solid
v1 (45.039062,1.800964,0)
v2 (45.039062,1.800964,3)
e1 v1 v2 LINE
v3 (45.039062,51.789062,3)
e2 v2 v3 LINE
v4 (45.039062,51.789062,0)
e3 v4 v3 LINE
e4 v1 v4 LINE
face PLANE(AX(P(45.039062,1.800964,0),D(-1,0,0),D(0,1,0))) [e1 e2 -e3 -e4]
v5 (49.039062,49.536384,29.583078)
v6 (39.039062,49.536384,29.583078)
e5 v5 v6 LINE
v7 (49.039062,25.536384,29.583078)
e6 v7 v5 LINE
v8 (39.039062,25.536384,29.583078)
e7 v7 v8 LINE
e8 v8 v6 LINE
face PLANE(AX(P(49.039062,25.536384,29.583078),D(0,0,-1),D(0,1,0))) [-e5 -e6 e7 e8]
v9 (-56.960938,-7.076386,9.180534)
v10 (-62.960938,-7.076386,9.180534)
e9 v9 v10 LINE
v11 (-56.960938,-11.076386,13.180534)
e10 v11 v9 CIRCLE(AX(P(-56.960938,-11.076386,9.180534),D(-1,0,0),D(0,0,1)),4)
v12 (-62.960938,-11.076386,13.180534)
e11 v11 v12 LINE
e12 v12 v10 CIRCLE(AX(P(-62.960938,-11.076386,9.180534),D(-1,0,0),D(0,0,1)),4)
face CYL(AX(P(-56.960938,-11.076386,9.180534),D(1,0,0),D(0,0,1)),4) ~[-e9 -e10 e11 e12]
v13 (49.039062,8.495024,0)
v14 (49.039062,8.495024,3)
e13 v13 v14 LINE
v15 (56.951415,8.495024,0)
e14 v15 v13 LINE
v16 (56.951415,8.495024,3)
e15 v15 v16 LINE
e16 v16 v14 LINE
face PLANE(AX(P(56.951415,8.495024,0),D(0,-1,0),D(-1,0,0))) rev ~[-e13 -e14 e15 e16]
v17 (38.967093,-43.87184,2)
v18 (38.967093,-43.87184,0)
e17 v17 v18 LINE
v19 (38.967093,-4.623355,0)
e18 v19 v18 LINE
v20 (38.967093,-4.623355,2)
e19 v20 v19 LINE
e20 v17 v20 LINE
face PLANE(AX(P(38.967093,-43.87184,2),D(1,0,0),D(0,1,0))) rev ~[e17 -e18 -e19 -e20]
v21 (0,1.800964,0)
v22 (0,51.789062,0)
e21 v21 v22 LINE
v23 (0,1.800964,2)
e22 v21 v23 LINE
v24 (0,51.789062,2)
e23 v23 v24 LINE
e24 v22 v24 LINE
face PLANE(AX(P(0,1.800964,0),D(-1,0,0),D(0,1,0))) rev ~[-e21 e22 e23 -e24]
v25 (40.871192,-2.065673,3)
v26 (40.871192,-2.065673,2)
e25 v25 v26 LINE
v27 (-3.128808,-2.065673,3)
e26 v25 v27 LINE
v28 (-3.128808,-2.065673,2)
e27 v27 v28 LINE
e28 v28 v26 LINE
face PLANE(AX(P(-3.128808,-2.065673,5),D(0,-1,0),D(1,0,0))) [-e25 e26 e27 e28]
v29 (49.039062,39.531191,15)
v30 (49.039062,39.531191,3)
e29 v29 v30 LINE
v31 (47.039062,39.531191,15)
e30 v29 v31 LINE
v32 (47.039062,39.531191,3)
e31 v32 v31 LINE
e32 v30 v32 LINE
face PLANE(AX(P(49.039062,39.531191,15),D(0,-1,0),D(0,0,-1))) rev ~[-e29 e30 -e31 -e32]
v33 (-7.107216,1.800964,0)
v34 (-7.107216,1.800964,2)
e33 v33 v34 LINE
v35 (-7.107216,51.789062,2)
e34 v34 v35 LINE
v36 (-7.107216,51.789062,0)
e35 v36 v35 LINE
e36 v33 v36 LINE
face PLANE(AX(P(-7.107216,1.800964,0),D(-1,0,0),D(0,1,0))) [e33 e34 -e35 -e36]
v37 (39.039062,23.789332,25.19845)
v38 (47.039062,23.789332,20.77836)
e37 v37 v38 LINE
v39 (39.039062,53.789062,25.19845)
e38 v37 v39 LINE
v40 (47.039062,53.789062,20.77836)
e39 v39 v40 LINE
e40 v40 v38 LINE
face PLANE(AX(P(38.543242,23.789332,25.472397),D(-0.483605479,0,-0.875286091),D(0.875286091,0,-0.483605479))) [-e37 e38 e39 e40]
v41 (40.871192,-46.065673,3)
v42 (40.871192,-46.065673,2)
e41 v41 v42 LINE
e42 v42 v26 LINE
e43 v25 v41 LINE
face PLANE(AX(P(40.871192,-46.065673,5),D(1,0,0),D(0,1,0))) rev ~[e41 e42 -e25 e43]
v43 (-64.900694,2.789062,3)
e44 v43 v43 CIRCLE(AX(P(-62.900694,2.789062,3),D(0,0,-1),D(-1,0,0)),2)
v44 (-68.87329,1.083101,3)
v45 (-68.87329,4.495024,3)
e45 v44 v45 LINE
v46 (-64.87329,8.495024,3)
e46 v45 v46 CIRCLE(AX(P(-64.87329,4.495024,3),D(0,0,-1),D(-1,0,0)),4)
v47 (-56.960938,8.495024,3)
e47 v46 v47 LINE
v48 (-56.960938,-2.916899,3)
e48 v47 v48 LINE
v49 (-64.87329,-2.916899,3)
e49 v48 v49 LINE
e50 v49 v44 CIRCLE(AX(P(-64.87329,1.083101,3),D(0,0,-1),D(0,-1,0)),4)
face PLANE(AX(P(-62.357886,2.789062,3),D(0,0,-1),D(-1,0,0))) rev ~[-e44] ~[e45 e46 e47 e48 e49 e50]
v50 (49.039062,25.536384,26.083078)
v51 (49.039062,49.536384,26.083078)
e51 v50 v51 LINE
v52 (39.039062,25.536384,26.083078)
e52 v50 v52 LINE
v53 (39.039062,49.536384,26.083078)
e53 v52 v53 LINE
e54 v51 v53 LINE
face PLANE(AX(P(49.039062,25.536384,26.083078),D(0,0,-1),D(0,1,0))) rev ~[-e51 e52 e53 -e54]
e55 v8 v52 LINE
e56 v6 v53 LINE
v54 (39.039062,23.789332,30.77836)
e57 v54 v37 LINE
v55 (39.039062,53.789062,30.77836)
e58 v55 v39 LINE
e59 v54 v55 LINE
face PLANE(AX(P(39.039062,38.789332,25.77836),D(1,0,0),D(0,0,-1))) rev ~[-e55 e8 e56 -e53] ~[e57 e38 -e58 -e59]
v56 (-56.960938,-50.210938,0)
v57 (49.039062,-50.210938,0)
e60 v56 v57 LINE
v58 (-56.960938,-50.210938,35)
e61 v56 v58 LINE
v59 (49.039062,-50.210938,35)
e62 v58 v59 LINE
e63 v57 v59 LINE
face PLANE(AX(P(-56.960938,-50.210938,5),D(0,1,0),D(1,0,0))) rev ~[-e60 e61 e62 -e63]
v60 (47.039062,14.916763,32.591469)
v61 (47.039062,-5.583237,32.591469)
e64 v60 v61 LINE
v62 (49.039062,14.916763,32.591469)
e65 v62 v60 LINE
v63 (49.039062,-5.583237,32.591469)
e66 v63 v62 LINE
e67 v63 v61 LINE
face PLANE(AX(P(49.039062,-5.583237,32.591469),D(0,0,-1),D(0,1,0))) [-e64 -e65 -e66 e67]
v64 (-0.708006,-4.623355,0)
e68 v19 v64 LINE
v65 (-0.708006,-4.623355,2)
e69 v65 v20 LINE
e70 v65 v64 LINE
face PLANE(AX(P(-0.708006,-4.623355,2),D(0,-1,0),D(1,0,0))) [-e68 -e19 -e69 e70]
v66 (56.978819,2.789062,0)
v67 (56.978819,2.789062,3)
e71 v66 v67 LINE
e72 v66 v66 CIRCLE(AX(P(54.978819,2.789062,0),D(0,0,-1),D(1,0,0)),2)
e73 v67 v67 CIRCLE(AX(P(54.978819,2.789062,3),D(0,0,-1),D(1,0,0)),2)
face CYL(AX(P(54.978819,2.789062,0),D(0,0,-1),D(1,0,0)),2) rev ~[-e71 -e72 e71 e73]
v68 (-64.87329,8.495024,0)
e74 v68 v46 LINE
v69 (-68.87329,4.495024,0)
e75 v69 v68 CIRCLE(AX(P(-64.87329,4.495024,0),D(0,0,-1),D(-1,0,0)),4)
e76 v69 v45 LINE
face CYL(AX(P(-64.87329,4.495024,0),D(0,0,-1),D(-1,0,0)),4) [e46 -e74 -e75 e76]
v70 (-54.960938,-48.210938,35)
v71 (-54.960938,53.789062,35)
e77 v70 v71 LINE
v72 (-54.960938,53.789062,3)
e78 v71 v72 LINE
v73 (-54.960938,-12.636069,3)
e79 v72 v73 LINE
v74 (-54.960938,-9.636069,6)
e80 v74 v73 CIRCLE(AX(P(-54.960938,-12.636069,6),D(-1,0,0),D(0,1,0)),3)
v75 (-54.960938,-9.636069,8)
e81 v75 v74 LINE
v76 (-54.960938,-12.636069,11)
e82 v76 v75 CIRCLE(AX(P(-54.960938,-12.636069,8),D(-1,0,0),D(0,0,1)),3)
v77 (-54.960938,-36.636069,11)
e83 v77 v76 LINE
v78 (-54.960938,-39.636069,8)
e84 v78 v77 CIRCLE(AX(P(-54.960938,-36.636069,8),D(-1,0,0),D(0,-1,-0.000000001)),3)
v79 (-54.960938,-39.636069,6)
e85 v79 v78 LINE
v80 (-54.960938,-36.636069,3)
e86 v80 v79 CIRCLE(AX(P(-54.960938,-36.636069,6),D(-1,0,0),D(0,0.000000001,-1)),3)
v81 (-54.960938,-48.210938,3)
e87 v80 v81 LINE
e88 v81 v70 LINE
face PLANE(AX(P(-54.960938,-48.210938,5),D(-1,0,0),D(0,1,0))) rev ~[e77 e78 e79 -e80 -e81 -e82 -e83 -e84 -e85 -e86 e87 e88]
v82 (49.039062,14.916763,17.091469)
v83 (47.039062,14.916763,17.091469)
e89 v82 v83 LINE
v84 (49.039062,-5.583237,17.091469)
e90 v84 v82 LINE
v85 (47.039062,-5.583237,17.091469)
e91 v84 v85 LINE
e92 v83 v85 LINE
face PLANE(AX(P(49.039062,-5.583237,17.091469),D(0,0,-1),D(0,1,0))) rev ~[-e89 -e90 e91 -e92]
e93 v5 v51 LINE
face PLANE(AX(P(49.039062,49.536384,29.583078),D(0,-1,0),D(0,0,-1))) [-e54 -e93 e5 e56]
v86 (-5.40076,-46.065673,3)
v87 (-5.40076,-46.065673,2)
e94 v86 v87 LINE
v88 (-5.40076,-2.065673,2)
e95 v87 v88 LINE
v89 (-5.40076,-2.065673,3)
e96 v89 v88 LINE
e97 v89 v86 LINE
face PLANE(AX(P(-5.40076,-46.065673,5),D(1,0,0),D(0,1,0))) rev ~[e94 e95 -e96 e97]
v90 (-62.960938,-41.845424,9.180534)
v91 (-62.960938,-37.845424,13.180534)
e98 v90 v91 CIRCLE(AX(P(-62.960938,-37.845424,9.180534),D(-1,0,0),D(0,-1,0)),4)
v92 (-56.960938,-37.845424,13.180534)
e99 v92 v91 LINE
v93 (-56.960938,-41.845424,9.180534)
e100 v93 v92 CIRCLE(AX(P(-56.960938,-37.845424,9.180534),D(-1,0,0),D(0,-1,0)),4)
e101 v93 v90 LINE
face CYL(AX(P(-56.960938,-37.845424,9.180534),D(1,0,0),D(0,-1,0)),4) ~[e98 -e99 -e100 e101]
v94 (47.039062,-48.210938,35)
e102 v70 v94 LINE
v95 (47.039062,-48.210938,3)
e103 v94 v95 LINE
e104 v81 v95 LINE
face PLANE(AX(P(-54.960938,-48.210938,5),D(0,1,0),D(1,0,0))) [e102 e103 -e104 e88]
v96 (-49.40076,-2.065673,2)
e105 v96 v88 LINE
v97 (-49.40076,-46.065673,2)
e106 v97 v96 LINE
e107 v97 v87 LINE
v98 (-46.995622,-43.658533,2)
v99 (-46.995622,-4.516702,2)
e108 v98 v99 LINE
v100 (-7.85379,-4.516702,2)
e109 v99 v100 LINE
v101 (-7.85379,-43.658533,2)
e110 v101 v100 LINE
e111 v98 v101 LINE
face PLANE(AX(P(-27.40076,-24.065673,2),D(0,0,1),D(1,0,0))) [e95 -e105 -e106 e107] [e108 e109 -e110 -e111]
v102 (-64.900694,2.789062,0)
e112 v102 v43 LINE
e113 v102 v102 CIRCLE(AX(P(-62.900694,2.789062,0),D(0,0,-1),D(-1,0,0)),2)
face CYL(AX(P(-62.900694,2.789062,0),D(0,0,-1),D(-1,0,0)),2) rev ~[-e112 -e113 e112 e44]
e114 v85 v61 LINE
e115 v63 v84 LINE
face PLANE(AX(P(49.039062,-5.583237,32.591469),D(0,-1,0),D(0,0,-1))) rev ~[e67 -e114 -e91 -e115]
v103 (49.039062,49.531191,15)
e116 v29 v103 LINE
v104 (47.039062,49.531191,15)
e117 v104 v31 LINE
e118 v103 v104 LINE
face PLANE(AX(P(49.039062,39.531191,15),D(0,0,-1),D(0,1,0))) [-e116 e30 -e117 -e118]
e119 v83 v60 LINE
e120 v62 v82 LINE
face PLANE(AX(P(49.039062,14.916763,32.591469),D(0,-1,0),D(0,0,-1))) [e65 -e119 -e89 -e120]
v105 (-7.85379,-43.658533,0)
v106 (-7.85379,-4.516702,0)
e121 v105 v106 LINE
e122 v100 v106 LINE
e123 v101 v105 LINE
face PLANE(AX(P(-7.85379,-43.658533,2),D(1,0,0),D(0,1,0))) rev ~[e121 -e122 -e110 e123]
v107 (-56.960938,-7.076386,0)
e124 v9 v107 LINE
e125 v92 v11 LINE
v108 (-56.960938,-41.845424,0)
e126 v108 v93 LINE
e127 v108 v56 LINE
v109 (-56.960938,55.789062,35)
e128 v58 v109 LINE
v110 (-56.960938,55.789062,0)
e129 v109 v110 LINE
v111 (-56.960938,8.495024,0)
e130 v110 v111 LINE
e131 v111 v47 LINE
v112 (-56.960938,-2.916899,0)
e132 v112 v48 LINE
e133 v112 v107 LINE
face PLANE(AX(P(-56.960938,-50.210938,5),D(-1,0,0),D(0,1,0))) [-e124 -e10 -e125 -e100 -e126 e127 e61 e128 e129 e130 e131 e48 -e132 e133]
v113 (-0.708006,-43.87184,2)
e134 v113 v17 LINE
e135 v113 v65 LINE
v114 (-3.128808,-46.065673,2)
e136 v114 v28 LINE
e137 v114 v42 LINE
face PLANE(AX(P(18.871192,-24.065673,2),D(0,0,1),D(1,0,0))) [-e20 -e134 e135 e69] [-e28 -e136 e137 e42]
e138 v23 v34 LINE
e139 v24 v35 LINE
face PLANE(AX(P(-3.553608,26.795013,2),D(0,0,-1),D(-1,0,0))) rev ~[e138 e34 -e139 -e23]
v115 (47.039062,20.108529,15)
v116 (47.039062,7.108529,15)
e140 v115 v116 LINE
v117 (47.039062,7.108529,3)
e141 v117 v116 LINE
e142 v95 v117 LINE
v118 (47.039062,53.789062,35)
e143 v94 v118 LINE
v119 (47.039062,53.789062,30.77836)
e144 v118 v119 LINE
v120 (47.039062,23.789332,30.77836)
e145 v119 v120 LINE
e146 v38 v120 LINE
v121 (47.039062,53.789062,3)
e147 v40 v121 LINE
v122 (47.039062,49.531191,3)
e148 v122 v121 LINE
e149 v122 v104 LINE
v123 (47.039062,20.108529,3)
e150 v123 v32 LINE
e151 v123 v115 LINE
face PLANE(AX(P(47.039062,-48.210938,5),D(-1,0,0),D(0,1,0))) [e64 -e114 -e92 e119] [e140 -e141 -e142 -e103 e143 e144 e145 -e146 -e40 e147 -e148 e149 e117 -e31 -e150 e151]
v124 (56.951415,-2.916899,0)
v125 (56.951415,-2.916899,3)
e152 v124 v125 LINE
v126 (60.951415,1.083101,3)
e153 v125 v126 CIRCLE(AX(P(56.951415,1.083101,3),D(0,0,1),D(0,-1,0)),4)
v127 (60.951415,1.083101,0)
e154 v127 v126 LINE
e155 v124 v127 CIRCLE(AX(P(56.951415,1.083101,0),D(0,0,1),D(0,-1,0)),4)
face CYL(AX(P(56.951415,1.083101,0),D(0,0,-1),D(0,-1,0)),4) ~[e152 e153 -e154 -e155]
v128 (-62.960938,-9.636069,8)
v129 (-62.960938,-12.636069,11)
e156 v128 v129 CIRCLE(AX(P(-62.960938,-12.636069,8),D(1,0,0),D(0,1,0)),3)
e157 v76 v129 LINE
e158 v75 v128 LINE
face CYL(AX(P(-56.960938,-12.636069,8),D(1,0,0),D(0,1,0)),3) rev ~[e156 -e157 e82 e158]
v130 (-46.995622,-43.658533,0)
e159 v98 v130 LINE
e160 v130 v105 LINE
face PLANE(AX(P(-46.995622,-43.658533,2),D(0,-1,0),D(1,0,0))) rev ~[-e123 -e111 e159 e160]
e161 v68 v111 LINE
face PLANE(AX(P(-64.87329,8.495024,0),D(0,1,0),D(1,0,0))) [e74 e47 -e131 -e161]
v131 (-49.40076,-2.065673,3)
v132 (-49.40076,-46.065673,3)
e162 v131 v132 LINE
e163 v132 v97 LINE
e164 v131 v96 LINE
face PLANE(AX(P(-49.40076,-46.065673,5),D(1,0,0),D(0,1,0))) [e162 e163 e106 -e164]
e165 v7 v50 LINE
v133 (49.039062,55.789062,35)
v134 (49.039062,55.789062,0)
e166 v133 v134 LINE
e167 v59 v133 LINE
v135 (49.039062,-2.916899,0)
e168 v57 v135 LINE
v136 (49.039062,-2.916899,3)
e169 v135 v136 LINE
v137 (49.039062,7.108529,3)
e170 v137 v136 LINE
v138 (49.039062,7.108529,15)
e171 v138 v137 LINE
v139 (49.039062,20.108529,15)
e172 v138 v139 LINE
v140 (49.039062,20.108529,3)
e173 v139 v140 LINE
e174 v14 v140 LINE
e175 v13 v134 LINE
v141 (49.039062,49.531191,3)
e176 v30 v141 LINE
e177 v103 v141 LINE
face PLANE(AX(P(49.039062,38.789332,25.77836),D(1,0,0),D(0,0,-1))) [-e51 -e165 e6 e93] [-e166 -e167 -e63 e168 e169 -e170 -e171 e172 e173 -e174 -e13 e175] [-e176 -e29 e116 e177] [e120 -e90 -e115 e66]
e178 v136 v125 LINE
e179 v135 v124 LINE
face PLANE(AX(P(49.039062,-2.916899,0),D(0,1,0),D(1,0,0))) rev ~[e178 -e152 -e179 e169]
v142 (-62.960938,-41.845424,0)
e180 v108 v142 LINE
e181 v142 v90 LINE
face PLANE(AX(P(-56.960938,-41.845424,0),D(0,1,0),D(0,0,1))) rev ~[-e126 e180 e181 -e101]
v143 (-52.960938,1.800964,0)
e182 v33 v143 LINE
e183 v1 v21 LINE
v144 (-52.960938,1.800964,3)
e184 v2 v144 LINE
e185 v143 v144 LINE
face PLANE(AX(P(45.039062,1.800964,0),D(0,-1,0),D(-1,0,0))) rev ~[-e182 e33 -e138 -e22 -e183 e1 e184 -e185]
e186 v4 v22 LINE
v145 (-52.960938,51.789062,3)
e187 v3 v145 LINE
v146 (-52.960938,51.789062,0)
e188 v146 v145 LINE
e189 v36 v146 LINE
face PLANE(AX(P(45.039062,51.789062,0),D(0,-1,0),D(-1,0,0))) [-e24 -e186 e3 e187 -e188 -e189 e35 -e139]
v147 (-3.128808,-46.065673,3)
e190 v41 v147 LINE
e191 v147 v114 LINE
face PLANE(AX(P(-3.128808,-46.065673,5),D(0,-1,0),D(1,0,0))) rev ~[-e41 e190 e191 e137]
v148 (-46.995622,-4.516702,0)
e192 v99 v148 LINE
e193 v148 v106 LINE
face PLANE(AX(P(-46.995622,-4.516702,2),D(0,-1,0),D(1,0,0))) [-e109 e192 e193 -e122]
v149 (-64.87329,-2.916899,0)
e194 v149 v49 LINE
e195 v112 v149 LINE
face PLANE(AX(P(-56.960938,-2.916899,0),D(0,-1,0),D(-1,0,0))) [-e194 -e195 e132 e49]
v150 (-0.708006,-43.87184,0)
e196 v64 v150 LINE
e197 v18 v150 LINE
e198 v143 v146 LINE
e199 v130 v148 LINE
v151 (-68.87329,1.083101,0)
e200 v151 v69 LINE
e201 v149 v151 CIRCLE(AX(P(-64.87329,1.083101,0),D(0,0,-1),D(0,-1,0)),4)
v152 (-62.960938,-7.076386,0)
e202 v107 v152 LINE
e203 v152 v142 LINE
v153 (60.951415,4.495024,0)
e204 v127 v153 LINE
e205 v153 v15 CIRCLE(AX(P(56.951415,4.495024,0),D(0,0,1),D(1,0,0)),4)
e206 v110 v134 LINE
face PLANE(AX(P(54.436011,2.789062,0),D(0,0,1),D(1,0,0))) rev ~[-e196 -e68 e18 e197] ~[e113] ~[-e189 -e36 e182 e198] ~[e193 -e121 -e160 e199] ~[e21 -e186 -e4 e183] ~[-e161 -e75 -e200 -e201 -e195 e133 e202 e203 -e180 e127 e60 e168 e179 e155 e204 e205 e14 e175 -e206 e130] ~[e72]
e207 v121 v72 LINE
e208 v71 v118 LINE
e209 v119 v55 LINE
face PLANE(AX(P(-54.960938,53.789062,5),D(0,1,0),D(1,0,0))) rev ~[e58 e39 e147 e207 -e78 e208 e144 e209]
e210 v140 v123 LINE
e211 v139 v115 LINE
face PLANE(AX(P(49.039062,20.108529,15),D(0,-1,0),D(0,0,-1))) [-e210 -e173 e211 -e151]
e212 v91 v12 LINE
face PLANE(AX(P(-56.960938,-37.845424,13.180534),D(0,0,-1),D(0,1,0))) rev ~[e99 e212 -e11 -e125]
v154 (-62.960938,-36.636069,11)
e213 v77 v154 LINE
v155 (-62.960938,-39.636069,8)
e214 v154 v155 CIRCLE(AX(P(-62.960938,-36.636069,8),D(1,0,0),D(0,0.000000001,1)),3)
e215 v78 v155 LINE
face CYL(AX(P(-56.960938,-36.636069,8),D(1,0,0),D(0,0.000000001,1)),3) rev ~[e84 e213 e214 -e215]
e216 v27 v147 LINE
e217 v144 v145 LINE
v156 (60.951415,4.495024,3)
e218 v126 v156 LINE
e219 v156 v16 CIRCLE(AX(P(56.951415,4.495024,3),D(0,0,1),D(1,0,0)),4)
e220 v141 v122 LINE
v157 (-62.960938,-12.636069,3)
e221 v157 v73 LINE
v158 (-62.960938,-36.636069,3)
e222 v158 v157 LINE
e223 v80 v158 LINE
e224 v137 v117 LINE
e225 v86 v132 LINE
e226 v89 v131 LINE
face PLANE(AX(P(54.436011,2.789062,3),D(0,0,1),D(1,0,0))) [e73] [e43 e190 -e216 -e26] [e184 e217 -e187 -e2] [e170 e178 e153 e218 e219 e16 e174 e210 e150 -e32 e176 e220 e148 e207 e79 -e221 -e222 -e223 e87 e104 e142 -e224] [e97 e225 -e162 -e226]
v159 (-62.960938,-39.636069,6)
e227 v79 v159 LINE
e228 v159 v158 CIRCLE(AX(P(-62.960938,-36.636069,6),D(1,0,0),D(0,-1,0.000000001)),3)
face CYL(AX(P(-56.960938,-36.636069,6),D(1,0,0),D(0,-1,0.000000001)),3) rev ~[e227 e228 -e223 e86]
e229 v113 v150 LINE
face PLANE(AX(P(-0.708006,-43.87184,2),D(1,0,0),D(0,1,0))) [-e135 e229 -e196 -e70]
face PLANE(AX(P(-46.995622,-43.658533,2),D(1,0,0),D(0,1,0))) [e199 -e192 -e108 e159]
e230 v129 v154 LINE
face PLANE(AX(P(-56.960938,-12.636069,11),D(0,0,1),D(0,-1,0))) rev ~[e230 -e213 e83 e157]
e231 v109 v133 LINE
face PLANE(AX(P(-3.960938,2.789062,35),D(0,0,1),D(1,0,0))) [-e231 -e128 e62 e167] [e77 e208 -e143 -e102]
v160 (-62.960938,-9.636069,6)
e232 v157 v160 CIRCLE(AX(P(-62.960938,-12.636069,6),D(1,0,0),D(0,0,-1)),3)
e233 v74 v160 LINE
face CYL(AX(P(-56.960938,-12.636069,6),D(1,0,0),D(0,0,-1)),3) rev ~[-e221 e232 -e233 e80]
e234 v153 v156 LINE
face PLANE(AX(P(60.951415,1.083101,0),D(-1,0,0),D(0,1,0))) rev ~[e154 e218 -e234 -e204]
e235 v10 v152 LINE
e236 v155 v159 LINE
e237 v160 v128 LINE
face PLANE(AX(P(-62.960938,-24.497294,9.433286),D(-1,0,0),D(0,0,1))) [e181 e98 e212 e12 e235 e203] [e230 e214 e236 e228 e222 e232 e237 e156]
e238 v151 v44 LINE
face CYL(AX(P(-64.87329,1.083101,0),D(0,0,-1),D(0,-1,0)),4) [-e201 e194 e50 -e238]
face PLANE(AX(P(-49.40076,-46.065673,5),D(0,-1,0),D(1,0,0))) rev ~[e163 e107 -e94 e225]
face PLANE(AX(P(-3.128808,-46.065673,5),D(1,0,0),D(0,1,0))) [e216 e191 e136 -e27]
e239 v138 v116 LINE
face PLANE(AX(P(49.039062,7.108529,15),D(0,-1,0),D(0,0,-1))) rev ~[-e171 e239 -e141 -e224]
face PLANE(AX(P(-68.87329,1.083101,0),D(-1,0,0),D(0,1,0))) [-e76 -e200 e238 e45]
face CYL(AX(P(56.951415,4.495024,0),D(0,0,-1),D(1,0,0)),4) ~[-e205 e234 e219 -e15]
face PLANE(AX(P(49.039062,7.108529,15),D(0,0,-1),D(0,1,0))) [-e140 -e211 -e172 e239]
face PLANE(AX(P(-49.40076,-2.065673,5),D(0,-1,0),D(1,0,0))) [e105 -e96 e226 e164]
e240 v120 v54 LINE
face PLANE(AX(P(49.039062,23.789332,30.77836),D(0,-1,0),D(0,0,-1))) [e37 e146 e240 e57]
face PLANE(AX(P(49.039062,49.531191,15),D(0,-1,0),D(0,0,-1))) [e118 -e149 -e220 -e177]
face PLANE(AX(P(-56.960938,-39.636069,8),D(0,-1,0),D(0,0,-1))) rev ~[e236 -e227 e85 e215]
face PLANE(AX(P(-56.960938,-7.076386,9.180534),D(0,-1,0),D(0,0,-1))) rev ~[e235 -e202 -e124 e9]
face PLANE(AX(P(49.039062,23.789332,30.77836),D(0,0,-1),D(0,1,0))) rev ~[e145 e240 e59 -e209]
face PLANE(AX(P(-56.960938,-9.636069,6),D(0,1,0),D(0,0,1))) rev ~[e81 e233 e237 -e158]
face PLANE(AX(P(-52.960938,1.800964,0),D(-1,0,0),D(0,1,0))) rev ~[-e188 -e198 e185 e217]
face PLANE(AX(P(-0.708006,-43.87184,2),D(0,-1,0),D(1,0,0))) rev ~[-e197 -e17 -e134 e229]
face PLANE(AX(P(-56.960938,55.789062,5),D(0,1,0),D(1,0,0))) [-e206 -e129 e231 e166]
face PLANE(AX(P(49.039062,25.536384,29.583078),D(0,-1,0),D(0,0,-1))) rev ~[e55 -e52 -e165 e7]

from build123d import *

# Parameters (mm, degrees)
SKETCH_1_W           = 102
SKETCH_1_H           = 54
SKETCH_1_W_2         = 44
SKETCH_1_H_2         = 44
EXTRUDE_1_DEPTH      = 5
SKETCH_2_W           = 102
SKETCH_2_H           = 54
SKETCH_2_W_2         = 98
SKETCH_2_H_2         = 49.988098762
SKETCH_2_W_3         = 44
SKETCH_2_H_3         = 44
SKETCH_2_W_4         = 39.827305616
SKETCH_2_H_4         = 40.011901238
EXTRUDE_2_DEPTH      = 3
SKETCH_3_W           = 106
SKETCH_3_H           = 106
SKETCH_3_W_2         = 102
SKETCH_3_H_2         = 102
EXTRUDE_3_DEPTH      = 30
SKETCH_4_W           = 12
SKETCH_4_H           = 10
SKETCH_4_H_2         = 13
CUT_EXTRUDE_1_DEPTH  = 30
SKETCH_5_W           = 44
SKETCH_5_H           = 44
CUT_EXTRUDE_2_DEPTH  = 3
SKETCH_6_W           = 39.675099194
SKETCH_6_H           = 39.248485224
CUT_EXTRUDE_3_DEPTH  = 87.290021993
SKETCH_8_W           = 39.827305616
SKETCH_8_H           = 40.011901238
SKETCH_8_W_2         = 7.107215528
SKETCH_8_H_2         = 49.988098762
EXTRUDE_5_DEPTH      = 2
EXTRUDE_6_DEPTH      = 2
EXTRUDE_6_DEPTH_BACK = 3
SKETCH_9_W           = 44
SKETCH_9_H           = 44
SKETCH_10_W          = 44
SKETCH_10_H          = 44
CUT_EXTRUDE_5_DEPTH  = 3
SKETCH_11_W          = 39.141831732
SKETCH_11_H          = 39.141831732
CUT_EXTRUDE_6_DEPTH  = 3
SKETCH_12_W          = 10
SKETCH_12_H          = 30
EXTRUDE_7_DEPTH      = 10
SKETCH_13_W          = 3.5
SKETCH_13_H          = 24
CUT_EXTRUDE_7_DEPTH  = 20
CUT_EXTRUDE_8_DEPTH  = 29.999730027
SKETCH_15_W          = 15.5
SKETCH_15_H          = 20.5
CUT_EXTRUDE_9_DEPTH  = 30
SKETCH_18_W          = 102
SKETCH_18_H          = 48
CUT_EXTRUDE_11_DEPTH = 2
CUT_EXTRUDE_12_DEPTH = 124.099226215
EXTRUDE_10_DEPTH     = 6
SKETCH_21_R          = 2
EXTRUDE_11_DEPTH     = 3


with BuildPart() as part:
    # 草图1 → 凸台-拉伸1 (new body)
    with BuildSketch(Plane.XY):
        Polygon((-56.9609375, 55.7890625), (49.0390625, 55.7890625), (49.0390625, -2.2109375), (49.0390625, -50.2109375), (-8.9609375, -50.2109375), (-56.9609375, -50.2109375), (-56.9609375, -2.2109375), align=None)
        with Locations((-3.9609375, 26.7890625)):
            Rectangle(SKETCH_1_W, SKETCH_1_H, mode=Mode.SUBTRACT)
        with Locations((-32.9609375, -26.2109375)):
            Rectangle(SKETCH_1_W_2, SKETCH_1_H_2, mode=Mode.SUBTRACT)
    extrude(amount=EXTRUDE_1_DEPTH)

    # 草图2 → 凸台-拉伸2 (add)
    # profile 1 of 2: a face of its own
    with BuildSketch(Plane(origin=(0, 0, 0), x_dir=(-1, 0, 0), z_dir=(0, 0, -1))):
        with Locations((3.9609375, 26.7890625)):
            Rectangle(SKETCH_2_W, SKETCH_2_H)
        with Locations((3.9609375, 26.795013119)):
            Rectangle(SKETCH_2_W_2, SKETCH_2_H_2, mode=Mode.SUBTRACT)
    # profile 2 of 2: a face of its own
    with BuildSketch(Plane(origin=(0, 0, 0), x_dir=(-1, 0, 0), z_dir=(0, 0, -1))):
        with Locations((32.9609375, -26.2109375)):
            Rectangle(SKETCH_2_W_3, SKETCH_2_H_3)
        with Locations((33.047284692, -26.204986881)):
            Rectangle(SKETCH_2_W_4, SKETCH_2_H_4, mode=Mode.SUBTRACT)
    extrude(amount=-EXTRUDE_2_DEPTH)

    # 草图3 → 凸台-拉伸3 (add)
    with BuildSketch(Plane.XY.offset(5)):
        with Locations((-3.9609375, 2.7890625)):
            Rectangle(SKETCH_3_W, SKETCH_3_H)
        with Locations((-3.9609375, 2.7890625)):
            Rectangle(SKETCH_3_W_2, SKETCH_3_H_2, mode=Mode.SUBTRACT)
    extrude(amount=EXTRUDE_3_DEPTH)

    # 草图4 → 切除-拉伸1 (cut)
    with BuildSketch(Plane(origin=(49.0390625, 0, 0), x_dir=(0, 0, -1), z_dir=(1, 0, 0))):
        with Locations((-9, 44.531190652)):
            Rectangle(SKETCH_4_W, SKETCH_4_H)
        with Locations((-9, 13.608528945)):
            Rectangle(SKETCH_4_W, SKETCH_4_H_2)
    extrude(amount=-CUT_EXTRUDE_1_DEPTH, mode=Mode.SUBTRACT)

    # 草图5 → 切除-拉伸2 (cut)
    with BuildSketch(Plane.XY.offset(5)):
        with Locations((18.871191973, -24.065672965)):
            Rectangle(SKETCH_5_W, SKETCH_5_H)
    extrude(amount=-CUT_EXTRUDE_2_DEPTH, mode=Mode.SUBTRACT)

    # 草图6 → 切除-拉伸3 (cut, through all)
    with BuildSketch(Plane.XY.offset(2)):
        with Locations((19.129543617, -24.247597838)):
            Rectangle(SKETCH_6_W, SKETCH_6_H)
    extrude(amount=-CUT_EXTRUDE_3_DEPTH, mode=Mode.SUBTRACT)

    # 草图8 → 凸台-拉伸5 (add)
    with BuildSketch(Plane(origin=(0, 0, 0), x_dir=(-1, 0, 0), z_dir=(0, 0, -1))):
        with Locations((33.047284692, -26.204986881)):
            Rectangle(SKETCH_8_W, SKETCH_8_H)
        with Locations((3.553607764, 26.795013119)):
            Rectangle(SKETCH_8_W_2, SKETCH_8_H_2)
    extrude(amount=-EXTRUDE_5_DEPTH)

    # 草图9 → 凸台-拉伸6 (add, two sides: drawn at the far end of the back side and taken through both)
    with BuildSketch(Plane.XY.offset(3).offset(-EXTRUDE_6_DEPTH_BACK)):
        with Locations((-32.9609375, -26.2109375)):
            Rectangle(SKETCH_9_W, SKETCH_9_H)
    extrude(amount=EXTRUDE_6_DEPTH + EXTRUDE_6_DEPTH_BACK)

    # 草图10 → 切除-拉伸5 (cut)
    with BuildSketch(Plane.XY.offset(5)):
        with Locations((-27.400759648, -24.065672965)):
            Rectangle(SKETCH_10_W, SKETCH_10_H)
    extrude(amount=-CUT_EXTRUDE_5_DEPTH, mode=Mode.SUBTRACT)

    # 草图11 → 切除-拉伸6 (cut)
    with BuildSketch(Plane.XY.offset(2)):
        with Locations((-27.424705841, -24.087617599)):
            Rectangle(SKETCH_11_W, SKETCH_11_H)
    extrude(amount=-CUT_EXTRUDE_6_DEPTH, mode=Mode.SUBTRACT)

    # 草图12 → 凸台-拉伸7 (add)
    with BuildSketch(Plane(origin=(49.0390625, 0, 0), x_dir=(0, 0, -1), z_dir=(1, 0, 0))):
        with Locations((-25.778359811, 38.789332473)):
            Rectangle(SKETCH_12_W, SKETCH_12_H)
    extrude(amount=-EXTRUDE_7_DEPTH)

    # 草图13 → 切除-拉伸7 (cut)
    with BuildSketch(Plane(origin=(49.0390625, 0, 0), x_dir=(0, 0, -1), z_dir=(1, 0, 0))):
        with Locations((-27.833078142, 37.536383555)):
            Rectangle(SKETCH_13_W, SKETCH_13_H)
    extrude(amount=-CUT_EXTRUDE_7_DEPTH, mode=Mode.SUBTRACT)

    # 草图14 → 切除-拉伸8 (cut)
    with BuildSketch(Plane.XZ.offset(-23.789332473)):
        Polygon((37.906859467, 25.472396685), (38.543242323, 25.472396685), (47.0390625, 20.778359811), (47.0390625, 19.400243598), (37.906859467, 19.400243598), align=None)
    extrude(amount=-CUT_EXTRUDE_8_DEPTH, mode=Mode.SUBTRACT)

    # 草图15 → 切除-拉伸9 (cut)
    with BuildSketch(Plane(origin=(49.0390625, 0, 0), x_dir=(0, 0, -1), z_dir=(1, 0, 0))):
        with Locations((-24.841469183, 4.666763342)):
            Rectangle(SKETCH_15_W, SKETCH_15_H)
    extrude(amount=-CUT_EXTRUDE_9_DEPTH, mode=Mode.SUBTRACT)

    # 草图18 → 切除-拉伸11 (cut)
    with BuildSketch(Plane.XY.offset(5)):
        with Locations((-3.9609375, -24.2109375)):
            Rectangle(SKETCH_18_W, SKETCH_18_H)
    extrude(amount=-CUT_EXTRUDE_11_DEPTH, mode=Mode.SUBTRACT)

    # 草图19 → 切除-拉伸12 (cut, through all)
    with BuildSketch(Plane(origin=(-54.9609375, 0, 0), x_dir=(0, 0, -1), z_dir=(1, 0, 0))):
        with BuildLine():
            Line((-8, -9.636069371), (-6, -9.636069371))
            ThreePointArc((-6, -9.636069371), (-3.878679656, -10.514749028), (-3, -12.636069371))
            Line((-3, -12.636069371), (-3, -36.636069371))
            ThreePointArc((-3, -36.636069371), (-3.878679656, -38.757389715), (-6, -39.636069371))
            Line((-6, -39.636069371), (-8, -39.636069371))
            ThreePointArc((-8, -39.636069371), (-10.121320344, -38.757389715), (-11, -36.636069371))
            Line((-11, -36.636069371), (-11, -12.636069371))
            ThreePointArc((-11, -12.636069371), (-10.121320344, -10.514749028), (-8, -9.636069371))
        make_face()
    extrude(amount=-CUT_EXTRUDE_12_DEPTH, mode=Mode.SUBTRACT)

    # 草图20 → 凸台-拉伸10 (add)
    with BuildSketch(Plane.ZY.offset(56.9609375)):
        with BuildLine():
            Line((3, -36.636069371), (3, -41.845424094))
            Line((3, -41.845424094), (9.180533555, -41.845424094))
            ThreePointArc((9.180533555, -41.845424094), (12.00896068, -40.673851218), (13.180533555, -37.845424094))
            Line((13.180533555, -37.845424094), (13.180533555, -11.076385552))
            ThreePointArc((13.180533555, -11.076385552), (12.00896068, -8.247958428), (9.180533555, -7.076385552))
            Line((9.180533555, -7.076385552), (3, -7.076385552))
            Line((3, -7.076385552), (3, -12.636069371))
            ThreePointArc((3, -12.636069371), (3.878679656, -10.514749028), (6, -9.636069371))
            Line((6, -9.636069371), (8, -9.636069371))
            ThreePointArc((8, -9.636069371), (10.121320344, -10.514749028), (11, -12.636069371))
            Line((11, -12.636069371), (11, -36.636069371))
            ThreePointArc((11, -36.636069371), (10.121320344, -38.757389715), (8, -39.636069371))
            Line((8, -39.636069371), (6, -39.636069371))
            ThreePointArc((6, -39.636069371), (3.878679656, -38.757389715), (3, -36.636069371))
        make_face()
        Polygon((0, -7.076385552), (0, -41.845424094), (3, -41.845424094), (3, -36.636069371), (3, -12.636069371), (3, -7.076385552), align=None)
    extrude(amount=EXTRUDE_10_DEPTH)

    # 草图21 → 凸台-拉伸11 (add)
    # profile 1 of 2: a face of its own
    with BuildSketch(Plane(origin=(0, 0, 0), x_dir=(-1, 0, 0), z_dir=(0, 0, -1))):
        with BuildLine():
            Line((56.9609375, -2.916899347), (64.873289872, -2.916899347))
            ThreePointArc((64.873289872, -2.916899347), (67.701716997, -1.745326471), (68.873289872, 1.083100653))
            Line((68.873289872, 1.083100653), (68.873289872, 4.495024347))
            ThreePointArc((68.873289872, 4.495024347), (67.701716997, 7.323451471), (64.873289872, 8.495024347))
            Line((64.873289872, 8.495024347), (56.9609375, 8.495024347))
            Line((56.9609375, 8.495024347), (56.9609375, -2.916899347))
        make_face()
        with Locations((62.900694294, 2.7890625)):
            Circle(SKETCH_21_R, mode=Mode.SUBTRACT)
    # profile 2 of 2: a face of its own
    with BuildSketch(Plane(origin=(0, 0, 0), x_dir=(-1, 0, 0), z_dir=(0, 0, -1))):
        with BuildLine():
            Line((-60.951414872, 1.083100653), (-60.951414872, 4.495024347))
            ThreePointArc((-60.951414872, 4.495024347), (-59.779841997, 7.323451471), (-56.951414872, 8.495024347))
            Line((-56.951414872, 8.495024347), (-49.0390625, 8.495024347))
            Line((-49.0390625, 8.495024347), (-49.0390625, -2.916899347))
            Line((-49.0390625, -2.916899347), (-56.951414872, -2.916899347))
            ThreePointArc((-56.951414872, -2.916899347), (-59.779841997, -1.745326471), (-60.951414872, 1.083100653))
        make_face()
        with Locations(Location((-54.978819294, 2.7890625, 0), (0, 0, 180))):
            Circle(SKETCH_21_R, mode=Mode.SUBTRACT)
    extrude(amount=-EXTRUDE_11_DEPTH)


solid = part.part
